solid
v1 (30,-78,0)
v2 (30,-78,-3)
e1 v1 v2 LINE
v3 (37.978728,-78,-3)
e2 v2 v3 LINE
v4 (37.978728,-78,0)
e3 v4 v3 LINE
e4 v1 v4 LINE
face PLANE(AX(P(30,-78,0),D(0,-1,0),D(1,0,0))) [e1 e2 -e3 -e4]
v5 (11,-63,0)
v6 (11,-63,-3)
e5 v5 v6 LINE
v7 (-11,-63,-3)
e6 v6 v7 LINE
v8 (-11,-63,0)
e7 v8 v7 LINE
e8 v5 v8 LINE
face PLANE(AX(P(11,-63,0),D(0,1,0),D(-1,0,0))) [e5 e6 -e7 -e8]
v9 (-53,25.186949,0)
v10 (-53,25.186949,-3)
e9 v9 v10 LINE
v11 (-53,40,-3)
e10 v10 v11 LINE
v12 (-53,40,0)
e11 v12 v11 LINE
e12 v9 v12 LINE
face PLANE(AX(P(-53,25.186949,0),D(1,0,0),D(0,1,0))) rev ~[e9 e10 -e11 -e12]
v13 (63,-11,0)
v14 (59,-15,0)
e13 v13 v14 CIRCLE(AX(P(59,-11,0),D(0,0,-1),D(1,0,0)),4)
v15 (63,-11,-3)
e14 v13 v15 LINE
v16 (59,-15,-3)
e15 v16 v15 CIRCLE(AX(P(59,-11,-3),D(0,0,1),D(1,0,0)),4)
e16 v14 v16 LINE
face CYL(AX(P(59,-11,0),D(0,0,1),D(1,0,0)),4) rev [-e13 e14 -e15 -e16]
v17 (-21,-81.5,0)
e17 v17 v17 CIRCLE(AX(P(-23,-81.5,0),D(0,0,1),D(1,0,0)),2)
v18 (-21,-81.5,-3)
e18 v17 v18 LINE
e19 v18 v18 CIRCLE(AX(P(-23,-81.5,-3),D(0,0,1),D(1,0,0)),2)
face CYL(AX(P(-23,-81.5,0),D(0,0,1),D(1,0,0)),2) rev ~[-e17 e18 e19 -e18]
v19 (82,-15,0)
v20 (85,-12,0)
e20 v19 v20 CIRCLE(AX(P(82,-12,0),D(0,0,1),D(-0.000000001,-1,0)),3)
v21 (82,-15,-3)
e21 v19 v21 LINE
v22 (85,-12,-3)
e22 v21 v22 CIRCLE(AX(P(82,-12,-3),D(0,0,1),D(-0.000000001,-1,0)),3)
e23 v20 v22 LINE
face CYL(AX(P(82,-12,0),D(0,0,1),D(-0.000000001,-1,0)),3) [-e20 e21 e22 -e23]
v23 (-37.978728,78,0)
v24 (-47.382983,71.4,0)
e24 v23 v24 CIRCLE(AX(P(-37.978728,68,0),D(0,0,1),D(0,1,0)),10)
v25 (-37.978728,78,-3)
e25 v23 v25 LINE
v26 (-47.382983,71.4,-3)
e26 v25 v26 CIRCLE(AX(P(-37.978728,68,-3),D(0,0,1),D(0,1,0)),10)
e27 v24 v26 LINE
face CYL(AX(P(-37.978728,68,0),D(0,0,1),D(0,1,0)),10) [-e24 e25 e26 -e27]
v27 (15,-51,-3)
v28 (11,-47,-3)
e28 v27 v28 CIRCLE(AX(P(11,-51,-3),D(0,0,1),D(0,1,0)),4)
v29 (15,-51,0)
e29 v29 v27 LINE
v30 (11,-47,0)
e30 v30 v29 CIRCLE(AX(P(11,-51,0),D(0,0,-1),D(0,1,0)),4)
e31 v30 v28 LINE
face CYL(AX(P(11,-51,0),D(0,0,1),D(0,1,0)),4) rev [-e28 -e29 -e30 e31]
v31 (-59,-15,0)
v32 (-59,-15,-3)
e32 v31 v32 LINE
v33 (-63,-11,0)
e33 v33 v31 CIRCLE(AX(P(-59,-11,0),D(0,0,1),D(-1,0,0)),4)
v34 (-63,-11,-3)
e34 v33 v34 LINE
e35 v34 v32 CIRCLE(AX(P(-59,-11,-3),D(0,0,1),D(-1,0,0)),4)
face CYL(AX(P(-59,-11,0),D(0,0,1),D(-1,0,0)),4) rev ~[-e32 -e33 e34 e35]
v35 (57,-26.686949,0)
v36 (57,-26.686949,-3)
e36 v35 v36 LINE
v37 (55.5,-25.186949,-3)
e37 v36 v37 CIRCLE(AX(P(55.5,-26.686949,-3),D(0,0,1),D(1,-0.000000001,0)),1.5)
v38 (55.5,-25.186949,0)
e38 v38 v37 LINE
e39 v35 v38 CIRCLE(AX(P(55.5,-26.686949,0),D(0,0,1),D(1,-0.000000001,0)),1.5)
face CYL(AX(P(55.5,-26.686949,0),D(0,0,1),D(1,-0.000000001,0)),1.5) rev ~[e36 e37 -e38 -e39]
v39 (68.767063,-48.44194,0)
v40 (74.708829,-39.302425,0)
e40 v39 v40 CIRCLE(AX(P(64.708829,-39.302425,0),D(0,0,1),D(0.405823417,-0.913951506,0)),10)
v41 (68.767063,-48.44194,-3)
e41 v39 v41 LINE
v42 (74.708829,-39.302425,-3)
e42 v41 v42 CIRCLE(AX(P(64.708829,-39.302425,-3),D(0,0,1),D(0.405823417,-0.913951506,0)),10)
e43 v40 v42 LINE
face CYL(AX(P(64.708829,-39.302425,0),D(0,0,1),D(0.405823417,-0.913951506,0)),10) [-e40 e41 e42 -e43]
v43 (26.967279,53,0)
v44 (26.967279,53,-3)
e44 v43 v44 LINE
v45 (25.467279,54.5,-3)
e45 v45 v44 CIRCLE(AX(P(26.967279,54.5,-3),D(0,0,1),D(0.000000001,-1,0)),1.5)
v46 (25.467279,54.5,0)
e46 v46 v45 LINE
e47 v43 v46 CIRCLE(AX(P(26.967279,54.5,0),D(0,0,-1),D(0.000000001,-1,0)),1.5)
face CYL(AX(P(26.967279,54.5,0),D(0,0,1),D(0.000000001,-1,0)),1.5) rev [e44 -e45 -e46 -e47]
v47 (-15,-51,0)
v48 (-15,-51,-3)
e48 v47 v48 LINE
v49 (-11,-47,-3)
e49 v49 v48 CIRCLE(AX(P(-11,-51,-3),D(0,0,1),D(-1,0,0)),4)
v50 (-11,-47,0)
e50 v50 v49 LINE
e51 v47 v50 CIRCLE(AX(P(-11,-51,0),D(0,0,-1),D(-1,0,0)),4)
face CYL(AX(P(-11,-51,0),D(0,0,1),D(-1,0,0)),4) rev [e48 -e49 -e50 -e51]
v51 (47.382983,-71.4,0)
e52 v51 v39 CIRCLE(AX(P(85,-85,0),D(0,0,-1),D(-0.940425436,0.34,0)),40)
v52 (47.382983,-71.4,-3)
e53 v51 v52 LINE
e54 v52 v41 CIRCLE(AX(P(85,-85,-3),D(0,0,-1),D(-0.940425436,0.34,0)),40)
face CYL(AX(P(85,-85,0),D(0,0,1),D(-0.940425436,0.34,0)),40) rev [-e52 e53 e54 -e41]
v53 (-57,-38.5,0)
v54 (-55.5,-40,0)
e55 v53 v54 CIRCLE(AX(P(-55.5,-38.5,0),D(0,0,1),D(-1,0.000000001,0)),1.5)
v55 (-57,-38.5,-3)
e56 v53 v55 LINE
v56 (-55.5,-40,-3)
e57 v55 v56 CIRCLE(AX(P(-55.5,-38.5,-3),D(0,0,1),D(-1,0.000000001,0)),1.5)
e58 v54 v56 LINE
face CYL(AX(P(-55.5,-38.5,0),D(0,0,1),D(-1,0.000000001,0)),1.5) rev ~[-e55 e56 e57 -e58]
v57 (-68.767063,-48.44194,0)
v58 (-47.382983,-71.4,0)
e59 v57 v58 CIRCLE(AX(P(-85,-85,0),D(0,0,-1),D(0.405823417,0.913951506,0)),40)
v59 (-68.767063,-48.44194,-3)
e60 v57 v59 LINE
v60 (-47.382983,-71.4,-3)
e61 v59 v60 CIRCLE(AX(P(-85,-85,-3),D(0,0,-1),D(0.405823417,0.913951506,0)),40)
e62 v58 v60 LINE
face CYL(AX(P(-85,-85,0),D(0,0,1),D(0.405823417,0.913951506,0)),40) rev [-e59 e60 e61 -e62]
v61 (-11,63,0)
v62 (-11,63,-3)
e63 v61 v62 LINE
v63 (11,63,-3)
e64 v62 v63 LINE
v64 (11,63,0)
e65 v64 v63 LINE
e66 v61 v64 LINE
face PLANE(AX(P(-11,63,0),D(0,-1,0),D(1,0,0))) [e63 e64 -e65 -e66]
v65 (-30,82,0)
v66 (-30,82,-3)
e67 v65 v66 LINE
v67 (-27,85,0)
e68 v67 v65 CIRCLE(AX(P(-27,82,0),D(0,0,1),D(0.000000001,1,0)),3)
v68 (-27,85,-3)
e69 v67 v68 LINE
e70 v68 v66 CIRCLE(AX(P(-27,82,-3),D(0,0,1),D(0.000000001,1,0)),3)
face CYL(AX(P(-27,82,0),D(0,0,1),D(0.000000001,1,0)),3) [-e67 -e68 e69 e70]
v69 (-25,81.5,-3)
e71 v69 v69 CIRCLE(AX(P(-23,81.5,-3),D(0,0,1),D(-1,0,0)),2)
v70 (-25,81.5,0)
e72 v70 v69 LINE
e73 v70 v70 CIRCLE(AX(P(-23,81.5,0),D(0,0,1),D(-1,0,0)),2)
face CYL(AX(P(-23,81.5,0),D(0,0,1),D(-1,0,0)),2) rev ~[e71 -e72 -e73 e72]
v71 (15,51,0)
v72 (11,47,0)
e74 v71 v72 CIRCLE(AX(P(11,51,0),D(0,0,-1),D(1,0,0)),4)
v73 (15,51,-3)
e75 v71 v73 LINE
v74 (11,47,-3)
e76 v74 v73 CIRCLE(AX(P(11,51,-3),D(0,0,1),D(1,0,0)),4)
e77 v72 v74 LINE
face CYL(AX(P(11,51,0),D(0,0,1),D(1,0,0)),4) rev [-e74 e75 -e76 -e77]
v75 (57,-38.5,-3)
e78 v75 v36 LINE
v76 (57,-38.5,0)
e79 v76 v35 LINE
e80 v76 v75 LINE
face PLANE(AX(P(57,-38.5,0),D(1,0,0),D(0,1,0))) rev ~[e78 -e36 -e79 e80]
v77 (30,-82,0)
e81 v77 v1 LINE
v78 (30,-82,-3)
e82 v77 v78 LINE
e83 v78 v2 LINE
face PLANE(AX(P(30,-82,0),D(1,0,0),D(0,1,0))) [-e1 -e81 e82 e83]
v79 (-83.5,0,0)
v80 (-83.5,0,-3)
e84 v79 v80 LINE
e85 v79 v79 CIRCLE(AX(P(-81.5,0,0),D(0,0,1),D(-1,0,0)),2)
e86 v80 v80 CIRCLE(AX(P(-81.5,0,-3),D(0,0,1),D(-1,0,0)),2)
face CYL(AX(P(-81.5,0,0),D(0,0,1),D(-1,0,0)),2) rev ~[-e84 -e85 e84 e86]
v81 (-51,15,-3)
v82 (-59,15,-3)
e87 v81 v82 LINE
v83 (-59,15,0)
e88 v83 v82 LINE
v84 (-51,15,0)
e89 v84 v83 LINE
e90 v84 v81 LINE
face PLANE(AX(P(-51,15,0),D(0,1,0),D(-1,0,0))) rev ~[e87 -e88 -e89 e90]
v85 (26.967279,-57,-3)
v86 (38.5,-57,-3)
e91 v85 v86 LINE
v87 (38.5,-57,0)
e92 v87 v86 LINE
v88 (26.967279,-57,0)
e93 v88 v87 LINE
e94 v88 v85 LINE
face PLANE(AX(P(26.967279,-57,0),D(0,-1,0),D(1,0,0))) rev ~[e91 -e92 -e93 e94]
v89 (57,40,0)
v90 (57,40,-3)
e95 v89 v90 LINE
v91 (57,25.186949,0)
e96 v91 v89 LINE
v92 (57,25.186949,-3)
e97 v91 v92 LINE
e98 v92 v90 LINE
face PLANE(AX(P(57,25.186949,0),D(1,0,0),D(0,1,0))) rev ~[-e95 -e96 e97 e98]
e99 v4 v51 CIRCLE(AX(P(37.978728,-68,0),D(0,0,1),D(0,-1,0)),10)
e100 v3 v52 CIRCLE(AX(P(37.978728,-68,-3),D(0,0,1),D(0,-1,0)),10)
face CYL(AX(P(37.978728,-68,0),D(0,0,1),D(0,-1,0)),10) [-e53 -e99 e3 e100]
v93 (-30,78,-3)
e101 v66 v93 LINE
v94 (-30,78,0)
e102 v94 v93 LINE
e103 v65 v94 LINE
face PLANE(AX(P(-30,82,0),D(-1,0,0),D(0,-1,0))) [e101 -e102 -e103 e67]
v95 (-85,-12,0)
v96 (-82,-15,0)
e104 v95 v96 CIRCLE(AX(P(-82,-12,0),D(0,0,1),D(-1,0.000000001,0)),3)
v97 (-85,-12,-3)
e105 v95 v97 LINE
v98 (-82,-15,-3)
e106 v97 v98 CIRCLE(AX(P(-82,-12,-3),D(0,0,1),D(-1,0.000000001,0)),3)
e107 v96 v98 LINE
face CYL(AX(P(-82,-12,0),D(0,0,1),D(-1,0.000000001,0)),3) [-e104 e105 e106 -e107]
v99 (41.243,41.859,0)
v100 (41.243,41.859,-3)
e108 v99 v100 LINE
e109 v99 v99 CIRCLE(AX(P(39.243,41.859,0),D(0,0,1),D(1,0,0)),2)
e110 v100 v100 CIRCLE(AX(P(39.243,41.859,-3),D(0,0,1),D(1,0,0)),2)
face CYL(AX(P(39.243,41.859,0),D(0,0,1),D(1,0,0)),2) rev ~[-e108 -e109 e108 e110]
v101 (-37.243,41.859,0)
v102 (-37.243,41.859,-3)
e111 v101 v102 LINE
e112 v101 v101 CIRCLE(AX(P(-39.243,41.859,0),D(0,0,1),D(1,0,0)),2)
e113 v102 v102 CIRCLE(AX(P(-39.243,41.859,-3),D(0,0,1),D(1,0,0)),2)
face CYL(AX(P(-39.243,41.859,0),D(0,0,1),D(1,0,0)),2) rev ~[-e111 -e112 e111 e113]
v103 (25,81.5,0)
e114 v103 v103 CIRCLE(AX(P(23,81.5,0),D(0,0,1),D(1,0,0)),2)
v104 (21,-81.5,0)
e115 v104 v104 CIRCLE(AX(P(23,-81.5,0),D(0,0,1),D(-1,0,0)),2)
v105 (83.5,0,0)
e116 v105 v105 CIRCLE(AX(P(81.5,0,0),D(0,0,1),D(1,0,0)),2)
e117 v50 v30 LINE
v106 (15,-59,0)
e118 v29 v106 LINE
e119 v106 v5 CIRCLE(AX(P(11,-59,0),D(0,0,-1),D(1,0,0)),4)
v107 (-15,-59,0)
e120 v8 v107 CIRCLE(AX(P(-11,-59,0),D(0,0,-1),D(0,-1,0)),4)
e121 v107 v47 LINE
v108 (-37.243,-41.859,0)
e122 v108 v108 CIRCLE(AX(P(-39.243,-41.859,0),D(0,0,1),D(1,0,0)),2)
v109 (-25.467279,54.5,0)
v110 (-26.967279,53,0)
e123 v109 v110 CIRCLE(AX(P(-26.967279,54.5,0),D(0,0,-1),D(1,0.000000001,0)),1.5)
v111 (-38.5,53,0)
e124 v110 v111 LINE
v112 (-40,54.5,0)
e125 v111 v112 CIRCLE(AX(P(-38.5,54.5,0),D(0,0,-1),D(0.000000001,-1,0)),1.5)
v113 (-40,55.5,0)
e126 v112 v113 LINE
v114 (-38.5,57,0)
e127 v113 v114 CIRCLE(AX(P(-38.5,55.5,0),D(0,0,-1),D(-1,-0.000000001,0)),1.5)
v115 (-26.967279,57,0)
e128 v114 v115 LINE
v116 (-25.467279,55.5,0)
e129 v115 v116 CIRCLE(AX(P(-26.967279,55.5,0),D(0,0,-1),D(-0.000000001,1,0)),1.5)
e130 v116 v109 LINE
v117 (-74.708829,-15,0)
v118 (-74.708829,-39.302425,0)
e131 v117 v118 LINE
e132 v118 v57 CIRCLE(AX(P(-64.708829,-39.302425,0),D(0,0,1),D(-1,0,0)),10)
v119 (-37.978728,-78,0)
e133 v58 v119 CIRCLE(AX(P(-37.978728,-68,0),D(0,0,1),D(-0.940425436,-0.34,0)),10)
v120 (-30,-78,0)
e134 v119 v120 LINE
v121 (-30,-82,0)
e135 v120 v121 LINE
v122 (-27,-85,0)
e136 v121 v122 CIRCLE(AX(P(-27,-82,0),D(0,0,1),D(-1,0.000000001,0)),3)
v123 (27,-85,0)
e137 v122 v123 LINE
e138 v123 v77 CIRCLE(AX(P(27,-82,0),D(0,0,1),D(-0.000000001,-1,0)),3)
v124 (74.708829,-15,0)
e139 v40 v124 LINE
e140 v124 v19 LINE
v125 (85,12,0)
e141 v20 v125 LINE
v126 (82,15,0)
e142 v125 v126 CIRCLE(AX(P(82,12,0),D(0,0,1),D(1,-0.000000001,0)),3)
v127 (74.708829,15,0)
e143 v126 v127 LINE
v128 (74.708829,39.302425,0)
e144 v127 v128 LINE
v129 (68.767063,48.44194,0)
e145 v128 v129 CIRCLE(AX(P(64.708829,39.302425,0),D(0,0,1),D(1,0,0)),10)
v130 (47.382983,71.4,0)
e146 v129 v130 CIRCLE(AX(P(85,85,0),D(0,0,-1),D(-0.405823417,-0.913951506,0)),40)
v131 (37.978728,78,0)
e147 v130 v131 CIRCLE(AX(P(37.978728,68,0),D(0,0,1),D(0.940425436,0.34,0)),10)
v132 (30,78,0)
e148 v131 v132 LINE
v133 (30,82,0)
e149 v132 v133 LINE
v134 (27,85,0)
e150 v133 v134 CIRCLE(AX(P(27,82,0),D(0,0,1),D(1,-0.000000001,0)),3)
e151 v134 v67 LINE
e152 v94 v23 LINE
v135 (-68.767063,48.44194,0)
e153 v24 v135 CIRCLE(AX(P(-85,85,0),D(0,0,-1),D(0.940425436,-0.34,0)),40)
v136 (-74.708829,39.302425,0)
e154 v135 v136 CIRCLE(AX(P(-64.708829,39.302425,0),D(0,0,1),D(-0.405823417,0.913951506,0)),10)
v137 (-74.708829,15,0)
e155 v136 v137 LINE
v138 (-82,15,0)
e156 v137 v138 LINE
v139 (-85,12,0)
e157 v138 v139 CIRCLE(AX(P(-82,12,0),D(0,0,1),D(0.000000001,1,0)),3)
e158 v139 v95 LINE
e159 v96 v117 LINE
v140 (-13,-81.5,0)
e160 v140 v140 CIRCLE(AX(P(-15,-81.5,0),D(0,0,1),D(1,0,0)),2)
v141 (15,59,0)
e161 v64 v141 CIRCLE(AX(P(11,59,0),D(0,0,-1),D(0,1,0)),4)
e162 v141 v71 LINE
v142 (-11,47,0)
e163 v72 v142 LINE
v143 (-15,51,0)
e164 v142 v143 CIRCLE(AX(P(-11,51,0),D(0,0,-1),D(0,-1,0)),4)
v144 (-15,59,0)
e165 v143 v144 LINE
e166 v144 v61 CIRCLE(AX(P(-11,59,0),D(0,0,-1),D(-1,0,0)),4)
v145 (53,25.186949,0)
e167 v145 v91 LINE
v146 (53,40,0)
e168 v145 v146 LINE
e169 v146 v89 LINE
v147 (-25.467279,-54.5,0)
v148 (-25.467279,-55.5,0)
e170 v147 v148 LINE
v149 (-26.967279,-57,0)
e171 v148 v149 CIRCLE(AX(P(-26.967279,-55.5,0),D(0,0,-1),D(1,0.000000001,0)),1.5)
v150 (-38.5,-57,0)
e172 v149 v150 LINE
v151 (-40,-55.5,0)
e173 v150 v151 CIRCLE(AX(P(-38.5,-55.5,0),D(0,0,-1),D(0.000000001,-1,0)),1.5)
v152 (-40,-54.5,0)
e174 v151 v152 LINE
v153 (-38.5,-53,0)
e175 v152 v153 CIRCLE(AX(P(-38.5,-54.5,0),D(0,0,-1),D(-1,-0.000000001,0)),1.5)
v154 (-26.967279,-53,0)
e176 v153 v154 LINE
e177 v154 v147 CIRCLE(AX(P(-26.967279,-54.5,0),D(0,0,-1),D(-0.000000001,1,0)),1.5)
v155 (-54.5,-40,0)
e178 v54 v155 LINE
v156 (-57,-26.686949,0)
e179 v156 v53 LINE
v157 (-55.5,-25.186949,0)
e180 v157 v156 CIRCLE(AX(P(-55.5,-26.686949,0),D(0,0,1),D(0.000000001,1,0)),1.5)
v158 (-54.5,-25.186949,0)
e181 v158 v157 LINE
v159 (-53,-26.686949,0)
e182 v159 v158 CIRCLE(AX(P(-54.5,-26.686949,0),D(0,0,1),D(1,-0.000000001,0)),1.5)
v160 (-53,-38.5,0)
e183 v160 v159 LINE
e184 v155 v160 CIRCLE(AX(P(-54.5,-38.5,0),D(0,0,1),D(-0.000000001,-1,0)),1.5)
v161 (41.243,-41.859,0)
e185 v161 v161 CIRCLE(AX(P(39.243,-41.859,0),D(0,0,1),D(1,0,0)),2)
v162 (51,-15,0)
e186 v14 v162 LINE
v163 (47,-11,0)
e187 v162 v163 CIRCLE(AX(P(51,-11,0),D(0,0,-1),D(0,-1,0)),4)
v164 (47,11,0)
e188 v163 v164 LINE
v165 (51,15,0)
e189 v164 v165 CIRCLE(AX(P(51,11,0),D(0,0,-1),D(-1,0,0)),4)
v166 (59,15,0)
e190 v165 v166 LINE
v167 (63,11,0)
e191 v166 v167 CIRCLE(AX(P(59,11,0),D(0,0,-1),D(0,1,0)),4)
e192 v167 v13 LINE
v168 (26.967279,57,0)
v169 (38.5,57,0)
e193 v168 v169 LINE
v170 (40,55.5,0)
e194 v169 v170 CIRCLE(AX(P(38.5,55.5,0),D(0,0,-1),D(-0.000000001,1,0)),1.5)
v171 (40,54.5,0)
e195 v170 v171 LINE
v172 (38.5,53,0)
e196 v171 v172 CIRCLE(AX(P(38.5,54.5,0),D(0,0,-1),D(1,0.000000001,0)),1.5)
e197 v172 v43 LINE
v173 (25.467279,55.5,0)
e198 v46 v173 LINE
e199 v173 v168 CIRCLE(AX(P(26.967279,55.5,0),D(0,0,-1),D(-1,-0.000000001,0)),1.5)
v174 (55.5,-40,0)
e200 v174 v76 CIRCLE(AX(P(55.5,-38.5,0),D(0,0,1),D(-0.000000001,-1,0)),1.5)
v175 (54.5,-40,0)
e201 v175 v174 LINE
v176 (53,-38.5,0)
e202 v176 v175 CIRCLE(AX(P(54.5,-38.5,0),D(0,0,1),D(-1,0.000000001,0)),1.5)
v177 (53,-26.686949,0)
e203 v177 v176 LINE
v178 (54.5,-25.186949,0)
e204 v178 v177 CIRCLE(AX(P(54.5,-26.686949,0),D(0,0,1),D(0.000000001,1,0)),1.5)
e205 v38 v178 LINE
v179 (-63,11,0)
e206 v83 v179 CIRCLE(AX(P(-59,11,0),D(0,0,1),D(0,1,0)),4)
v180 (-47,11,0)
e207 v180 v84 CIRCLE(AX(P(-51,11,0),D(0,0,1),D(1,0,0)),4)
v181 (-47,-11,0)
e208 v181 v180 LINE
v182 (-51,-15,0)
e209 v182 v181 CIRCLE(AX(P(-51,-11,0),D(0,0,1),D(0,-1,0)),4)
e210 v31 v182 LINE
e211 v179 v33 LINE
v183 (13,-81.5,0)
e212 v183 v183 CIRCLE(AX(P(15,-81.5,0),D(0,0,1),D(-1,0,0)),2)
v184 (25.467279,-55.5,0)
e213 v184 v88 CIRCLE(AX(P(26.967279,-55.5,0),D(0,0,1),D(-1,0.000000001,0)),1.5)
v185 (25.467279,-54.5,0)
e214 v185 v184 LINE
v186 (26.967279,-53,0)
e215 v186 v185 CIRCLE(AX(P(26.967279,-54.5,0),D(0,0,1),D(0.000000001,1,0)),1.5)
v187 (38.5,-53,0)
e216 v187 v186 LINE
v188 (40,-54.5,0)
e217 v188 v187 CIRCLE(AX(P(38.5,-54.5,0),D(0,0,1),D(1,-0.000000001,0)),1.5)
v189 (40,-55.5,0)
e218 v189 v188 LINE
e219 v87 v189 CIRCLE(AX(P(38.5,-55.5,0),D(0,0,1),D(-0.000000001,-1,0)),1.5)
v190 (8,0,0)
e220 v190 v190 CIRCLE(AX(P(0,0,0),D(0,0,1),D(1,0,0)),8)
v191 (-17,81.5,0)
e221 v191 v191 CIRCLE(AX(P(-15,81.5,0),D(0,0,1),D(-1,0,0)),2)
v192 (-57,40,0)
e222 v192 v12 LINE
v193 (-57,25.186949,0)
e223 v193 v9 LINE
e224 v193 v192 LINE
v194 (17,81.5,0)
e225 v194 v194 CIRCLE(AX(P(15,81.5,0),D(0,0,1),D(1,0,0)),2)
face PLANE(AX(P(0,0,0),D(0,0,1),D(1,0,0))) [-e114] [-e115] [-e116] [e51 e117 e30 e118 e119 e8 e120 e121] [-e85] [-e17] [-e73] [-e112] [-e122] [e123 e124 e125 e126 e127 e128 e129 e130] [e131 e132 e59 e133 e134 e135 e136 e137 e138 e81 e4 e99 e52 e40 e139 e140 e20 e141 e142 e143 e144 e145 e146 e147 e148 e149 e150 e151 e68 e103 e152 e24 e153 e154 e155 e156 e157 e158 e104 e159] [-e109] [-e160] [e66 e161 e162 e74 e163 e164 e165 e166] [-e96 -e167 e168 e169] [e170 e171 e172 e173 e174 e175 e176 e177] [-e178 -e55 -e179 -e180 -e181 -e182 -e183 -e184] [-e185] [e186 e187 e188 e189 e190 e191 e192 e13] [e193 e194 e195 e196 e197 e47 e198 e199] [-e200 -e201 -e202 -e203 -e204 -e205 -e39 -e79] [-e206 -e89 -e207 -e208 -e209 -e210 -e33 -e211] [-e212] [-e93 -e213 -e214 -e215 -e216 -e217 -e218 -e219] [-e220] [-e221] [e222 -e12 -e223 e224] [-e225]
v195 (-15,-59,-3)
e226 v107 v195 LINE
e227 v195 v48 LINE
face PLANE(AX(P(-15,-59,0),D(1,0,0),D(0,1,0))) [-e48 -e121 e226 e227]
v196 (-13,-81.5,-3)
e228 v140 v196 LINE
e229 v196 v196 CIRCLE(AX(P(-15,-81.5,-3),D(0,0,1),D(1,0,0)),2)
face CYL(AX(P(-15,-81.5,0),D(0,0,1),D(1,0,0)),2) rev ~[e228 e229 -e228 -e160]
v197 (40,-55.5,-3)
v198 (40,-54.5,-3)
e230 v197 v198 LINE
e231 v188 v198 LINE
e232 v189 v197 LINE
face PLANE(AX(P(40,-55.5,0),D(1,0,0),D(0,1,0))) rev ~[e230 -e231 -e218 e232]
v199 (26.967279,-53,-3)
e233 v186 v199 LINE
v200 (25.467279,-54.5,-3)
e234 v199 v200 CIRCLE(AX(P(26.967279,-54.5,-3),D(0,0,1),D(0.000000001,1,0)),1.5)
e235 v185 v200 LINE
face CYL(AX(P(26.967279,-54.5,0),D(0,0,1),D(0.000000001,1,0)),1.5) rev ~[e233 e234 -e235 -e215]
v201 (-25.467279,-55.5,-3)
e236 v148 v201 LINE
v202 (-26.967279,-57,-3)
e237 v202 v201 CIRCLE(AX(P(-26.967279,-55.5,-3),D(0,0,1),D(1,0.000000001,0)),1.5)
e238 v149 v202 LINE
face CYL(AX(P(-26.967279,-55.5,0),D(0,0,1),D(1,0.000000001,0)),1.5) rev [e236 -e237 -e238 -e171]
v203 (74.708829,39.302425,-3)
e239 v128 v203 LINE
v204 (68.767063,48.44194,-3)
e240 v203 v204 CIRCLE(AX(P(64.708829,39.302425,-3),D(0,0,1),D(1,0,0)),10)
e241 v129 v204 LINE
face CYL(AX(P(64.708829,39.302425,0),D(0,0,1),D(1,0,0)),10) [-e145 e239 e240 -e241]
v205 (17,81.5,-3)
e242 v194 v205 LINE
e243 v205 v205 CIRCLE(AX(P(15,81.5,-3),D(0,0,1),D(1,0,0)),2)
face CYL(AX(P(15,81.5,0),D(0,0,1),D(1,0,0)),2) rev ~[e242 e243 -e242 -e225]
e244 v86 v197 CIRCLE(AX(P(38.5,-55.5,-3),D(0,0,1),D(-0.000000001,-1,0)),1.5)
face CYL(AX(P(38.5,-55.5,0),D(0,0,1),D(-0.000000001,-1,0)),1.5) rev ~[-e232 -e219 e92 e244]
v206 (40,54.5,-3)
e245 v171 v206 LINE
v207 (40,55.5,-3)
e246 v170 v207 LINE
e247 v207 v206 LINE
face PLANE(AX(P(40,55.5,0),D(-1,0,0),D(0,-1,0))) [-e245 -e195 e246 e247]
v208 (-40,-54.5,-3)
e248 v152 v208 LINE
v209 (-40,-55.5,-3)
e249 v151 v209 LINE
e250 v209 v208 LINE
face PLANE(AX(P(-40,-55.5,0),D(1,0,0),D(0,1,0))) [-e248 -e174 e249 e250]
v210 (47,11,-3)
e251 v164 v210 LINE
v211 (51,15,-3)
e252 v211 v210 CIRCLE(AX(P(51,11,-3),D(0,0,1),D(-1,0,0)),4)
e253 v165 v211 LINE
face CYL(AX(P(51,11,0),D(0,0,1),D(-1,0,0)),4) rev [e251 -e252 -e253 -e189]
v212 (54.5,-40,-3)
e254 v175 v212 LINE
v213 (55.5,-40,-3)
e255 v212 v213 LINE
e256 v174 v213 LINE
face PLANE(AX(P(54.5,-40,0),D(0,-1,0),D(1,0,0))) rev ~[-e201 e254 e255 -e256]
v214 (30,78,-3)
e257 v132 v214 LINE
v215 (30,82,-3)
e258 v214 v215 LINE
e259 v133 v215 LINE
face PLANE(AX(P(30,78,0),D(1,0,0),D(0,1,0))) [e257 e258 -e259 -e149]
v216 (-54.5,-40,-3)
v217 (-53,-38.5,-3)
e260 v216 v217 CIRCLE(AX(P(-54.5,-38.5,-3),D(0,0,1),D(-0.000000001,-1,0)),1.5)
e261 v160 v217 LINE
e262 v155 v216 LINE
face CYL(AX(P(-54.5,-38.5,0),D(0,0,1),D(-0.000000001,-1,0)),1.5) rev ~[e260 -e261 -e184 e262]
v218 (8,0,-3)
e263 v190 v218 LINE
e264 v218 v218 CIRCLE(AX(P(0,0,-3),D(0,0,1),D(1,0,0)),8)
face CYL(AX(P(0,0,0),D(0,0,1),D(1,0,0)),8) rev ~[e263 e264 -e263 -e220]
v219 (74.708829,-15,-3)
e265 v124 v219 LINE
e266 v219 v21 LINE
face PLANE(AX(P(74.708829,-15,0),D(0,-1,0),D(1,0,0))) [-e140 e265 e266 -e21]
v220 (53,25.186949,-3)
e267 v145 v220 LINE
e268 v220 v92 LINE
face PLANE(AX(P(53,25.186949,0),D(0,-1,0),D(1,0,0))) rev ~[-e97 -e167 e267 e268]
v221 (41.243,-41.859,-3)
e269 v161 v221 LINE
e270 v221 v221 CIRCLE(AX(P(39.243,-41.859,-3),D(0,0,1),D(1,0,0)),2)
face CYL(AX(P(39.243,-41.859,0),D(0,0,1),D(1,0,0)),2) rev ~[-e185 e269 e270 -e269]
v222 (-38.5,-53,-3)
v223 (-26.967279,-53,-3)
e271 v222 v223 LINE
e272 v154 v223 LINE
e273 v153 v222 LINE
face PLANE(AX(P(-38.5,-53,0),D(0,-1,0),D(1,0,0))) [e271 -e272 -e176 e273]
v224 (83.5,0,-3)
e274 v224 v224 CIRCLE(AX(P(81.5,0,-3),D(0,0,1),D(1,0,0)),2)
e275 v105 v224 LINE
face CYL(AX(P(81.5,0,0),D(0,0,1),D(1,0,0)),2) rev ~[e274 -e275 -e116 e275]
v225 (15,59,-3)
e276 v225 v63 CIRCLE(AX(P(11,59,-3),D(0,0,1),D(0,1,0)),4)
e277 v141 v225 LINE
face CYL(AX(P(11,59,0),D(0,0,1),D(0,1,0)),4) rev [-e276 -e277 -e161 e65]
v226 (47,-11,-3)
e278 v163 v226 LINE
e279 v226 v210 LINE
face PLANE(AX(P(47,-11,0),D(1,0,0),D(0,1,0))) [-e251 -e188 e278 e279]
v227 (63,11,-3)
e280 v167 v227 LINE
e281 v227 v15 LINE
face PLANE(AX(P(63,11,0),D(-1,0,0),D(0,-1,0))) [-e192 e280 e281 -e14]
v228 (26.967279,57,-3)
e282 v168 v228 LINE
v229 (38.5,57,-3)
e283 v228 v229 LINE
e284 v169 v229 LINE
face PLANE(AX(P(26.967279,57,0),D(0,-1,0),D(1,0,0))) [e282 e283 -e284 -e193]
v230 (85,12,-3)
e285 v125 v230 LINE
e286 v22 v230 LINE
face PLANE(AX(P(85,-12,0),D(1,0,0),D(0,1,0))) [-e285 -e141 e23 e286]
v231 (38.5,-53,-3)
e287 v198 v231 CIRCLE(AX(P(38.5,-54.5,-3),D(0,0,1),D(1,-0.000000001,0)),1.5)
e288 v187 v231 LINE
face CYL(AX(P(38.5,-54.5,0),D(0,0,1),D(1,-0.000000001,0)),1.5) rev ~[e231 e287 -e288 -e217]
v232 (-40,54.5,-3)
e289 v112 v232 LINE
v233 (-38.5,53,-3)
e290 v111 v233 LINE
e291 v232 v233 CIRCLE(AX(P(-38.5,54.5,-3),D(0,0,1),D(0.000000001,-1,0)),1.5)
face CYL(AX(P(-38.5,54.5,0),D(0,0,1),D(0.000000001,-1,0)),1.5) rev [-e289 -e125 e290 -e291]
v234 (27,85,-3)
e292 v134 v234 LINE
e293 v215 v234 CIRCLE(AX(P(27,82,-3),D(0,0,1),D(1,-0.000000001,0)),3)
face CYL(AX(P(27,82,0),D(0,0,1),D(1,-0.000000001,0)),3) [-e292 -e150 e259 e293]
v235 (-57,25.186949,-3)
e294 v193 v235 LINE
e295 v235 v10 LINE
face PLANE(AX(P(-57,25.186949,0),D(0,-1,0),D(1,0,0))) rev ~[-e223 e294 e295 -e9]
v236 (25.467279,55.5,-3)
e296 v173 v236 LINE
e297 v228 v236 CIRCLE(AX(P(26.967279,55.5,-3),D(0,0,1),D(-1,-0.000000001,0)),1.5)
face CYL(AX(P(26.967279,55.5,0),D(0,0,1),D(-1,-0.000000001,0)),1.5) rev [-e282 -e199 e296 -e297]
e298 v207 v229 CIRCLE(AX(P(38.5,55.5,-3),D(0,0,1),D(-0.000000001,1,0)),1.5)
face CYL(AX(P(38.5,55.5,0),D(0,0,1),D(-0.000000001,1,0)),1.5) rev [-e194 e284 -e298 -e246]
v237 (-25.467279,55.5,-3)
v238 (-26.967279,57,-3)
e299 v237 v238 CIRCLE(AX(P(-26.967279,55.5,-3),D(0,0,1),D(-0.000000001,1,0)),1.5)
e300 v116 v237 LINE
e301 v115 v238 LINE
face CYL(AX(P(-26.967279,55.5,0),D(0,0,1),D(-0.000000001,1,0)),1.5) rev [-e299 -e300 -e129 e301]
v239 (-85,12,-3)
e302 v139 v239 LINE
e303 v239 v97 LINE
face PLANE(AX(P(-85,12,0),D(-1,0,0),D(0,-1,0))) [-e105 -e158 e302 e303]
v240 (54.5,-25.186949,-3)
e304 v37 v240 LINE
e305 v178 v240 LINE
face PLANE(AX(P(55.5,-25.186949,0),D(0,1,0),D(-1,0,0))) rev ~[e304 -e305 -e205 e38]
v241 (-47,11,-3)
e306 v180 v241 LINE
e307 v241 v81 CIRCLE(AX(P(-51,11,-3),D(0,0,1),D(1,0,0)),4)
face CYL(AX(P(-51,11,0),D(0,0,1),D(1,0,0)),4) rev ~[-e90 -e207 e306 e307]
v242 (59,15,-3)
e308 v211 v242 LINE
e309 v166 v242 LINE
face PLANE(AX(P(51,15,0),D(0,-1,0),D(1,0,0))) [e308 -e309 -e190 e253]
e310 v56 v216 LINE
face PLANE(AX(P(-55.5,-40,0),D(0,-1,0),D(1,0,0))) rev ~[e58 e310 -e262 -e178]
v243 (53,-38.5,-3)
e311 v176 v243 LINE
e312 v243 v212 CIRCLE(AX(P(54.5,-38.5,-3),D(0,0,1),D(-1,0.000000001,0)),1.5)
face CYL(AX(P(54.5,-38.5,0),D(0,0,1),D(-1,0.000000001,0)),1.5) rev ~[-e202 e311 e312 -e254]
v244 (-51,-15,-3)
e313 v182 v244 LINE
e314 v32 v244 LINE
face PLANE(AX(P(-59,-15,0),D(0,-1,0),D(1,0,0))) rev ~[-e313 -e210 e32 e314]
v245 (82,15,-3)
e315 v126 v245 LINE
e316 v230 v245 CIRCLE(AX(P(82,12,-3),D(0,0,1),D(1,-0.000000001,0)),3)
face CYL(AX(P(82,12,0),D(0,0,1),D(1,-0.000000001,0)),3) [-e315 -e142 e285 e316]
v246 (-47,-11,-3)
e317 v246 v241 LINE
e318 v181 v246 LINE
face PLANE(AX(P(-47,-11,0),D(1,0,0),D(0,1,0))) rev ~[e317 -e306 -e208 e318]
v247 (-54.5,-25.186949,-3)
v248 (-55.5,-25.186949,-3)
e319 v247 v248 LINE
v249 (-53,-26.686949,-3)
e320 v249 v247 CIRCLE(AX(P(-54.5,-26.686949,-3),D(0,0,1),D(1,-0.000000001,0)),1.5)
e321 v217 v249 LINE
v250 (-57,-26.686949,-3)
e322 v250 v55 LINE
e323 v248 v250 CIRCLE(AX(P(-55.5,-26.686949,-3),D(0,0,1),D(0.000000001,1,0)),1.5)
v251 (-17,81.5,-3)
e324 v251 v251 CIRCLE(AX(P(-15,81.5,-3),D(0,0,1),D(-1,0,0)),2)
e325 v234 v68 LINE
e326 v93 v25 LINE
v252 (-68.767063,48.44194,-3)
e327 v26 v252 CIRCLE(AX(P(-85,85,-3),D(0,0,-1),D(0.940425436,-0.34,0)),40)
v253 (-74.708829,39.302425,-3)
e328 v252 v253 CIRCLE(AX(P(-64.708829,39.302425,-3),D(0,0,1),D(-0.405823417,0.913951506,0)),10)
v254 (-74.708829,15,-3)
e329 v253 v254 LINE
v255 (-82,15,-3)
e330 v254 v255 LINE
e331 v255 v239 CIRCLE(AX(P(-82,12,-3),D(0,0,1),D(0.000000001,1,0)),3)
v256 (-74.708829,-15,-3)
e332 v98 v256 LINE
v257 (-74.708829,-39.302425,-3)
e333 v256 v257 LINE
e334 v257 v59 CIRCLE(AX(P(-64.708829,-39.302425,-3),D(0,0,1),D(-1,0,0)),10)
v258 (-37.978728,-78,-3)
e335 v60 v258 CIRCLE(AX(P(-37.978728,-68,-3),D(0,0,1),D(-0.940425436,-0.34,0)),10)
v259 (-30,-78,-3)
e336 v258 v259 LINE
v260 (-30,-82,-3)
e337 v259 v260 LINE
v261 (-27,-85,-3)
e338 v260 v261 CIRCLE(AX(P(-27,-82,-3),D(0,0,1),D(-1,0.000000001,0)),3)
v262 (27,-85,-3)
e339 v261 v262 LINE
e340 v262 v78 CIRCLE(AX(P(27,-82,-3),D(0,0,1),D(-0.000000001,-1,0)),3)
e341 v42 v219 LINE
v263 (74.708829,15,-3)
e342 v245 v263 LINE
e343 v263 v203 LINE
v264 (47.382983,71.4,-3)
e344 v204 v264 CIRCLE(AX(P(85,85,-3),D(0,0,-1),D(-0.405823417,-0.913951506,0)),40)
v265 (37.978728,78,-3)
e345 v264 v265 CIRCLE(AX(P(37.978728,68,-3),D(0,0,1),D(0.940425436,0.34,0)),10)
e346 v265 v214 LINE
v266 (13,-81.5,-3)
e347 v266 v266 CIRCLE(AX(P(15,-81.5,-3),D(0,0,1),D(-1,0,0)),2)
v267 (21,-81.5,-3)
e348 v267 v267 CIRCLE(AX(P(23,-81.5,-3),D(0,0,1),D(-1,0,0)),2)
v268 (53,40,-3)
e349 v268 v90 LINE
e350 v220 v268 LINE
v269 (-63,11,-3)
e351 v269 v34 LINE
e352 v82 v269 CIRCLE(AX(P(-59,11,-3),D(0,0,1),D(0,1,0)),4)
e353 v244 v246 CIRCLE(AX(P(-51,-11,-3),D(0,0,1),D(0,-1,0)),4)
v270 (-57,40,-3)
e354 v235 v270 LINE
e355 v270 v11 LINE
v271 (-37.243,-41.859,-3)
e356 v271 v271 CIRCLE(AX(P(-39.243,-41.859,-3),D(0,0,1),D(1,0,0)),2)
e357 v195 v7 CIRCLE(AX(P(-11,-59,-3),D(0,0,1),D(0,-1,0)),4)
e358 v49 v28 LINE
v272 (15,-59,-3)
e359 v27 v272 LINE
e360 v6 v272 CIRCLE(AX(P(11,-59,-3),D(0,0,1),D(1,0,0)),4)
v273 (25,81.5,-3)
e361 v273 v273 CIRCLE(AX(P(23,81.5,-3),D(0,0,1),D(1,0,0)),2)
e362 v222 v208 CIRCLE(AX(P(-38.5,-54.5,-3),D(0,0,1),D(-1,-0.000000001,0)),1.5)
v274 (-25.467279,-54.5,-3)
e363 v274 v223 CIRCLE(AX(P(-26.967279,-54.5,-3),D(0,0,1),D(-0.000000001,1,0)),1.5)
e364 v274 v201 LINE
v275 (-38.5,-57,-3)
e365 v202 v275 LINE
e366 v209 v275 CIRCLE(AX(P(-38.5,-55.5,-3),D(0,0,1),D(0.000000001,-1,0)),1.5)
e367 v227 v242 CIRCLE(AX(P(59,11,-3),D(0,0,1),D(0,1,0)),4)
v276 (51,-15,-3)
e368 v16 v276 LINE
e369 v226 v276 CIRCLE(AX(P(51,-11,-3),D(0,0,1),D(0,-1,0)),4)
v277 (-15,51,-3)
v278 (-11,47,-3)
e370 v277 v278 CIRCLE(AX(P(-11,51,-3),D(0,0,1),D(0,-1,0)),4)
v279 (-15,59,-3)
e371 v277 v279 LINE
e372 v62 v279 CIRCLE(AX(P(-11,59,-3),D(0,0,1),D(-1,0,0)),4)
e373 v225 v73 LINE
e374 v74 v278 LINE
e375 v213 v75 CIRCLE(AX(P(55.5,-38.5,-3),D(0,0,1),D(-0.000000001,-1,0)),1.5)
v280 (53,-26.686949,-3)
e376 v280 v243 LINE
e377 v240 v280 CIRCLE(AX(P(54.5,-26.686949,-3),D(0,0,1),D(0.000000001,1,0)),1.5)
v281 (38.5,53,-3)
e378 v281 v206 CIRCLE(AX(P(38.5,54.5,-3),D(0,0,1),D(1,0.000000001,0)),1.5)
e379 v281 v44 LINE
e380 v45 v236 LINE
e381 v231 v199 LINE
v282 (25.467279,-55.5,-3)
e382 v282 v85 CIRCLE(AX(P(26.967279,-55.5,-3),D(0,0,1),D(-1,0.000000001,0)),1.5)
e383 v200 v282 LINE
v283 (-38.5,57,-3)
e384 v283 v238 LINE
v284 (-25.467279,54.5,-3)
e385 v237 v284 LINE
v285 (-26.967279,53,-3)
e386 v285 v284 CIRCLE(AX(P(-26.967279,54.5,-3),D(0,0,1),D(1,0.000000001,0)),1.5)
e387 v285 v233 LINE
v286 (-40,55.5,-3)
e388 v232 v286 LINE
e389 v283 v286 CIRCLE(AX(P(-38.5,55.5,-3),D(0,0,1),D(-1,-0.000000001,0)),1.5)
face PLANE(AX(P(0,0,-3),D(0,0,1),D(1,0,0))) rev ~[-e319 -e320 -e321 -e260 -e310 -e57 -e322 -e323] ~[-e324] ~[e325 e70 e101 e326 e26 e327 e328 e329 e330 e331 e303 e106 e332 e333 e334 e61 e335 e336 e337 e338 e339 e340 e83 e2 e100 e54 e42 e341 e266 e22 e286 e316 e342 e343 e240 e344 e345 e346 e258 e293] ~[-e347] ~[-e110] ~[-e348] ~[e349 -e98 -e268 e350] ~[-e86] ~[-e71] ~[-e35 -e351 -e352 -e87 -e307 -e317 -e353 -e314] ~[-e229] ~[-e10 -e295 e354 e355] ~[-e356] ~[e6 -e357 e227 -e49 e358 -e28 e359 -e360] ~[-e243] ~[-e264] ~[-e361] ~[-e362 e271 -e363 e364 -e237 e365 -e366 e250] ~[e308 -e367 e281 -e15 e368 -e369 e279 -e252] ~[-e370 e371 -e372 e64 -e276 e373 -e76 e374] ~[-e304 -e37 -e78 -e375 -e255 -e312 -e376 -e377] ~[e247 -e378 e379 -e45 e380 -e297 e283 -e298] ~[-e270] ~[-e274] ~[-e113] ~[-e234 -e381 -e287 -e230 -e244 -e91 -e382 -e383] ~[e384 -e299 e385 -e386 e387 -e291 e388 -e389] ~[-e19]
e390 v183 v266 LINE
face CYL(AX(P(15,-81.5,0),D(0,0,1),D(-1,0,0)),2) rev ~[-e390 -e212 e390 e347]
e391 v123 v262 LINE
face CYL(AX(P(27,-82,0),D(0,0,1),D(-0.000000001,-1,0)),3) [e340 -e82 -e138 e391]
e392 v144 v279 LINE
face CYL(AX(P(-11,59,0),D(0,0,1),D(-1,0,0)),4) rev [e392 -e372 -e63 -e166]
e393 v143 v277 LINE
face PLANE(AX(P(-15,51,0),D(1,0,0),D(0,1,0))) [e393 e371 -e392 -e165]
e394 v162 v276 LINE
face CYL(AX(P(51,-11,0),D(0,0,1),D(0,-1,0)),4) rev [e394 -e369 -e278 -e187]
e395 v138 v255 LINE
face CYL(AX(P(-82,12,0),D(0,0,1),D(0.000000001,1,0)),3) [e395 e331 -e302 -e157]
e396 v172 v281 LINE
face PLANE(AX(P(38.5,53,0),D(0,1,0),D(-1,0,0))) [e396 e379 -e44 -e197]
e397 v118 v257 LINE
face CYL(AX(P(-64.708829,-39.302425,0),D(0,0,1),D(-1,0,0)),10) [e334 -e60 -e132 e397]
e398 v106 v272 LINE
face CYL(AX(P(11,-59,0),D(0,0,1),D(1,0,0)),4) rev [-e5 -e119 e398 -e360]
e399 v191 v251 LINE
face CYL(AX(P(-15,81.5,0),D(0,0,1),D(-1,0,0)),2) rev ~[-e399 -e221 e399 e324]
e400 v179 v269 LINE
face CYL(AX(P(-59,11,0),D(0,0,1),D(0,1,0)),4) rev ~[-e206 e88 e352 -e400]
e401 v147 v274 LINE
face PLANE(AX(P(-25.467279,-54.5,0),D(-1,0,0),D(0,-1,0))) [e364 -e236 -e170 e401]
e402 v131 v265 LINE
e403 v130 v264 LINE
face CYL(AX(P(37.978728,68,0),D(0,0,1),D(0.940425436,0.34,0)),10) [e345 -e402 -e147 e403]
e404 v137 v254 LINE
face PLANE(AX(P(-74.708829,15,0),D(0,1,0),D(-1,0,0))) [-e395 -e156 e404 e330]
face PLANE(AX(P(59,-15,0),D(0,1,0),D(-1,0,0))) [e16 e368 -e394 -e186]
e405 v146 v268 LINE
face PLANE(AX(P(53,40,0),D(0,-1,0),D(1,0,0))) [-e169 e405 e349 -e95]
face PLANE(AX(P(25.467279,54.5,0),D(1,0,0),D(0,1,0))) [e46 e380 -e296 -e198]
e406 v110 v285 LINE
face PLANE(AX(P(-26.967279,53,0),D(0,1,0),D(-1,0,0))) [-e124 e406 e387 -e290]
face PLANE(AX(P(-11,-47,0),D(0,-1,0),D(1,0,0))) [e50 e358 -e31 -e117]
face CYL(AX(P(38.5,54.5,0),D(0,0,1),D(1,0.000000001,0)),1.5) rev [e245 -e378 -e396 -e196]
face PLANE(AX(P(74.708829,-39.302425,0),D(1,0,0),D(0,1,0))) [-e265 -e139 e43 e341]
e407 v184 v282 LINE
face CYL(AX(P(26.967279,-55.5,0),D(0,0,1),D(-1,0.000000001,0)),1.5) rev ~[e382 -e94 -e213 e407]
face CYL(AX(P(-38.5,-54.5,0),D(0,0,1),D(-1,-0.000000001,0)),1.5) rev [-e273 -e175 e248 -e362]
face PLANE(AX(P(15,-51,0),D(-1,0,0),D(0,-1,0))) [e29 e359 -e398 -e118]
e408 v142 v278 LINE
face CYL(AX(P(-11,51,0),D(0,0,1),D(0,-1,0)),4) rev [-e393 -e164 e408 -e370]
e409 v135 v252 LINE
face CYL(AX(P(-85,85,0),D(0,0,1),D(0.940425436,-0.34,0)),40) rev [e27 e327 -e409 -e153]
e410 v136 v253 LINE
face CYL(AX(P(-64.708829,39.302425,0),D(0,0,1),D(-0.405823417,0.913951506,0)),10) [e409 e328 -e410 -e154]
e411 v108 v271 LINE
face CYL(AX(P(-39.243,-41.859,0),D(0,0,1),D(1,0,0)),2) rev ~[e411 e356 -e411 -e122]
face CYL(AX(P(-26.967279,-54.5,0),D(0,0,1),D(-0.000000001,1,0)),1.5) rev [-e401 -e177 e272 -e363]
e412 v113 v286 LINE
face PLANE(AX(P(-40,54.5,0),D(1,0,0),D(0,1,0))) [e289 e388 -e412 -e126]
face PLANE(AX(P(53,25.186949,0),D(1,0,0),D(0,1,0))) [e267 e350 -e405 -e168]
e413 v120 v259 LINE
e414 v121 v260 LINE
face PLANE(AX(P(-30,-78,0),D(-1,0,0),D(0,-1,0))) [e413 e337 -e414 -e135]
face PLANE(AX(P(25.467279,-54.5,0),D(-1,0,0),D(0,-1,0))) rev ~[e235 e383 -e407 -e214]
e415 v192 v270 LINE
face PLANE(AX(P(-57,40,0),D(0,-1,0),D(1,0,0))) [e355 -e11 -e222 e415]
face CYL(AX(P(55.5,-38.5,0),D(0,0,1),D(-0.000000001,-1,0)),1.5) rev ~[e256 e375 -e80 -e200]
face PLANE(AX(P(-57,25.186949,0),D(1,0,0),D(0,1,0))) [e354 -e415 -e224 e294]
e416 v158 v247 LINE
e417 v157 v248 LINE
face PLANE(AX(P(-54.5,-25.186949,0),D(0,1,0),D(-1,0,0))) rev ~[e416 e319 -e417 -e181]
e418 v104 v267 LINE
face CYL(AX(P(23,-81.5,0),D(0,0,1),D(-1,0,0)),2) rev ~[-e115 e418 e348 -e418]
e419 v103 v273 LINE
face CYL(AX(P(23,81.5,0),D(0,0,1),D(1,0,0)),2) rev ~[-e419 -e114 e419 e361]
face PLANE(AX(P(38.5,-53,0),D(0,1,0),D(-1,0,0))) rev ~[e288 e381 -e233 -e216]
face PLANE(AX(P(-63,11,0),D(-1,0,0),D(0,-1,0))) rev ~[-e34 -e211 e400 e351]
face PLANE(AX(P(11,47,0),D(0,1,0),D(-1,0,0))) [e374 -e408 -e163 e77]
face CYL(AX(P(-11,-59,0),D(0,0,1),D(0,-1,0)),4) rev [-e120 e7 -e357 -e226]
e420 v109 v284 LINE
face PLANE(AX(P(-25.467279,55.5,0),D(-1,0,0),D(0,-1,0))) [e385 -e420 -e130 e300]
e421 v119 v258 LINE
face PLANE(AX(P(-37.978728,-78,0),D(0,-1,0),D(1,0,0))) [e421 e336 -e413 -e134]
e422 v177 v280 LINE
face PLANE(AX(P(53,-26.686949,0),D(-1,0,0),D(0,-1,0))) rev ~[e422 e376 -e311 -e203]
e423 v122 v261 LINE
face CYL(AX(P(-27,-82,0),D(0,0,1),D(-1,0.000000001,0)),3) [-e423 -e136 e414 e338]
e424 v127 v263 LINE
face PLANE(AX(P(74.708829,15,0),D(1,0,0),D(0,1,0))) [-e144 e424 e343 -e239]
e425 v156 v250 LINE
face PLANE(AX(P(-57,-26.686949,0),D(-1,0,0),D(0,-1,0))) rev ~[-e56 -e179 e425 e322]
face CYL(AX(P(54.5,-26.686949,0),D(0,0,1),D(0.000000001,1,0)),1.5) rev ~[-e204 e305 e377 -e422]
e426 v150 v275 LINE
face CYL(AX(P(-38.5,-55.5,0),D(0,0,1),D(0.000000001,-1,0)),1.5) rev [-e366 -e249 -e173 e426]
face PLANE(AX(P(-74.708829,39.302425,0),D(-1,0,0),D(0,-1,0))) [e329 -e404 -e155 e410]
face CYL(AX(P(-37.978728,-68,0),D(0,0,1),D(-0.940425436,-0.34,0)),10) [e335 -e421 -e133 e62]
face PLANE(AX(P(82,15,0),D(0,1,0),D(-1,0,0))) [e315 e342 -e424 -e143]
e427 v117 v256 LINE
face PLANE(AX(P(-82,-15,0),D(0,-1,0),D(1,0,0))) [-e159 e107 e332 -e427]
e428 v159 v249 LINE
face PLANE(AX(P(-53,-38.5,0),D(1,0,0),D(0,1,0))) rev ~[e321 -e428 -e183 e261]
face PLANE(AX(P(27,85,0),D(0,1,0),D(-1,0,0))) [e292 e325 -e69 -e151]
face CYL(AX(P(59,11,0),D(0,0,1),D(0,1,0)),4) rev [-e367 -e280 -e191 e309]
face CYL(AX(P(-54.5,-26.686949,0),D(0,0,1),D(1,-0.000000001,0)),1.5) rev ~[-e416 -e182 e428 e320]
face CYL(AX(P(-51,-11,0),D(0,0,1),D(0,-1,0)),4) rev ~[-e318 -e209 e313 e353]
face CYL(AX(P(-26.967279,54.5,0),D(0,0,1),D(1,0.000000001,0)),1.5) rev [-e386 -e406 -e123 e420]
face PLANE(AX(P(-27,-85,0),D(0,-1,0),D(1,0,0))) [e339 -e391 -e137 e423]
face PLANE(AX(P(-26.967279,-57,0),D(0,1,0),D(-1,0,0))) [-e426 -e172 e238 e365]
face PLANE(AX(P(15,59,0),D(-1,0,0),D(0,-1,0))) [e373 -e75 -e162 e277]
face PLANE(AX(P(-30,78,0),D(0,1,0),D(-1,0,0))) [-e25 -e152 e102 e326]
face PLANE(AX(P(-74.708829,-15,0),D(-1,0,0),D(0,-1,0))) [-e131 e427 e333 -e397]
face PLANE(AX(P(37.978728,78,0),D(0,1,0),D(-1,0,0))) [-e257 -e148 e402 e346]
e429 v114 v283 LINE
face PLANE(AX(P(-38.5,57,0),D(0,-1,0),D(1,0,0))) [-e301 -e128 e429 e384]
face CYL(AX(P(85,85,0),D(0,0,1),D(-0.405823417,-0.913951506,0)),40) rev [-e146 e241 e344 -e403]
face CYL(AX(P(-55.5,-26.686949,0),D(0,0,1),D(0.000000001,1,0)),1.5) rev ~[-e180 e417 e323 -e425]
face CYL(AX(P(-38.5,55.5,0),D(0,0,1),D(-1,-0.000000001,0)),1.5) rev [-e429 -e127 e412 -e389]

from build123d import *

# Parameters (mm, degrees)
BOSS_EXTRUDE1_DEPTH = 3
SKETCH2_R           = 8
CUT_EXTRUDE2_DEPTH  = 5
SKETCH3_R           = 2
CUT_EXTRUDE3_DEPTH  = 5
SKETCH4_R           = 2
CUT_EXTRUDE4_DEPTH  = 5
SKETCH5_R           = 2
SKETCH5_W           = 4
SKETCH5_H           = 14.81305052
CUT_EXTRUDE5_DEPTH  = 5


with BuildPart() as part:
    # Sketch1 → Boss-Extrude1 (new body)
    with BuildSketch(Plane.XY):
        with BuildLine():
            Line((82, 15), (74.70882917, 15))
            Line((74.70882917, 15), (74.70882917, 39.302424721))
            ThreePointArc((74.70882917, 39.302424721), (73.092812163, 44.753005348), (68.767063336, 48.441939777))
            ThreePointArc((68.767063336, 48.441939777), (55.730177295, 57.736884279), (47.382982574, 71.4))
            ThreePointArc((47.382982574, 71.4), (43.723290865, 76.185352772), (37.978728218, 78))
            Line((37.978728218, 78), (30, 78))
            Line((30, 78), (30, 82))
            ThreePointArc((30, 82), (29.121320344, 84.121320344), (27, 85))
            Line((27, 85), (-27, 85))
            ThreePointArc((-27, 85), (-29.121320344, 84.121320344), (-30, 82))
            Line((-30, 82), (-30, 78))
            Line((-30, 78), (-37.978728218, 78))
            ThreePointArc((-37.978728218, 78), (-43.723290865, 76.185352772), (-47.382982574, 71.4))
            ThreePointArc((-47.382982574, 71.4), (-55.730177295, 57.736884279), (-68.767063336, 48.441939777))
            ThreePointArc((-68.767063336, 48.441939777), (-73.092812163, 44.753005348), (-74.70882917, 39.302424721))
            Line((-74.70882917, 39.302424721), (-74.70882917, 15))
            Line((-74.70882917, 15), (-82, 15))
            ThreePointArc((-82, 15), (-84.121320344, 14.121320344), (-85, 12))
            Line((-85, 12), (-85, -12))
            ThreePointArc((-85, -12), (-84.121320344, -14.121320344), (-82, -15))
            Line((-82, -15), (-74.70882917, -15))
            Line((-74.70882917, -15), (-74.70882917, -39.302424721))
            ThreePointArc((-74.70882917, -39.302424721), (-73.092812163, -44.753005348), (-68.767063336, -48.441939777))
            ThreePointArc((-68.767063336, -48.441939777), (-55.730177295, -57.736884279), (-47.382982574, -71.4))
            ThreePointArc((-47.382982574, -71.4), (-43.723290865, -76.185352772), (-37.978728218, -78))
            Line((-37.978728218, -78), (-30, -78))
            Line((-30, -78), (-30, -82))
            ThreePointArc((-30, -82), (-29.121320344, -84.121320344), (-27, -85))
            Line((-27, -85), (27, -85))
            ThreePointArc((27, -85), (29.121320344, -84.121320344), (30, -82))
            Line((30, -82), (30, -78))
            Line((30, -78), (37.978728218, -78))
            ThreePointArc((37.978728218, -78), (43.723290865, -76.185352772), (47.382982574, -71.4))
            ThreePointArc((47.382982574, -71.4), (55.730177295, -57.736884279), (68.767063336, -48.441939777))
            ThreePointArc((68.767063336, -48.441939777), (73.092812163, -44.753005348), (74.70882917, -39.302424721))
            Line((74.70882917, -39.302424721), (74.70882917, -15))
            Line((74.70882917, -15), (82, -15))
            ThreePointArc((82, -15), (84.121320344, -14.121320344), (85, -12))
            Line((85, -12), (85, 12))
            ThreePointArc((85, 12), (84.121320344, 14.121320344), (82, 15))
        make_face()
    extrude(amount=-BOSS_EXTRUDE1_DEPTH)

    # Sketch2 → Cut-Extrude2 (cut)
    with BuildSketch(Plane.XY):
        Circle(SKETCH2_R)
    extrude(amount=-CUT_EXTRUDE2_DEPTH, mode=Mode.SUBTRACT)

    # Sketch3 → Cut-Extrude3 (cut)
    with BuildSketch(Plane.XY):
        with Locations((81.5, 0)):
            Circle(SKETCH3_R)
        with Locations((-81.5, 0)):
            Circle(SKETCH3_R)
    extrude(amount=-CUT_EXTRUDE3_DEPTH, mode=Mode.SUBTRACT)

    # Sketch4 → Cut-Extrude4 (cut)
    with BuildSketch(Plane.XY):
        with Locations((23, 81.5)):
            Circle(SKETCH4_R)
        with Locations((15, 81.5)):
            Circle(SKETCH4_R)
        with Locations((-15, 81.5)):
            Circle(SKETCH4_R)
        with Locations((-23, 81.5)):
            Circle(SKETCH4_R)
        with Locations((-23, -81.5)):
            Circle(SKETCH4_R)
        with Locations((-15, -81.5)):
            Circle(SKETCH4_R)
        with Locations((15, -81.5)):
            Circle(SKETCH4_R)
        with Locations((23, -81.5)):
            Circle(SKETCH4_R)
    extrude(amount=-CUT_EXTRUDE4_DEPTH, mode=Mode.SUBTRACT)

    # Sketch5 → Cut-Extrude5 (cut)
    with BuildSketch(Plane.XY):
        with Locations((39.243, 41.859)):
            Circle(SKETCH5_R)
        with Locations((39.243, -41.859)):
            Circle(SKETCH5_R)
        with Locations((-39.243, -41.859)):
            Circle(SKETCH5_R)
        with Locations((-39.243, 41.859)):
            Circle(SKETCH5_R)
        with BuildLine():
            Line((-15, -59), (-15, -51))
            ThreePointArc((-15, -51), (-13.828427125, -48.171572875), (-11, -47))
            Line((-11, -47), (11, -47))
            ThreePointArc((11, -47), (13.828427125, -48.171572875), (15, -51))
            Line((15, -51), (15, -59))
            ThreePointArc((15, -59), (13.828427125, -61.828427125), (11, -63))
            Line((11, -63), (-11, -63))
            ThreePointArc((-11, -63), (-13.828427125, -61.828427125), (-15, -59))
        make_face()
        with BuildLine():
            Line((51, 15), (59, 15))
            ThreePointArc((59, 15), (61.828427125, 13.828427125), (63, 11))
            Line((63, 11), (63, -11))
            ThreePointArc((63, -11), (61.828427125, -13.828427125), (59, -15))
            Line((59, -15), (51, -15))
            ThreePointArc((51, -15), (48.171572875, -13.828427125), (47, -11))
            Line((47, -11), (47, 11))
            ThreePointArc((47, 11), (48.171572875, 13.828427125), (51, 15))
        make_face()
        with BuildLine():
            Line((-63, 11), (-63, -11))
            ThreePointArc((-63, -11), (-61.828427125, -13.828427125), (-59, -15))
            Line((-59, -15), (-51, -15))
            ThreePointArc((-51, -15), (-48.171572875, -13.828427125), (-47, -11))
            Line((-47, -11), (-47, 11))
            ThreePointArc((-47, 11), (-48.171572875, 13.828427125), (-51, 15))
            Line((-51, 15), (-59, 15))
            ThreePointArc((-59, 15), (-61.828427125, 13.828427125), (-63, 11))
        make_face()
        with BuildLine():
            Line((-11, 63), (11, 63))
            ThreePointArc((11, 63), (13.828427125, 61.828427125), (15, 59))
            Line((15, 59), (15, 51))
            ThreePointArc((15, 51), (13.828427125, 48.171572875), (11, 47))
            Line((11, 47), (-11, 47))
            ThreePointArc((-11, 47), (-13.828427125, 48.171572875), (-15, 51))
            Line((-15, 51), (-15, 59))
            ThreePointArc((-15, 59), (-13.828427125, 61.828427125), (-11, 63))
        make_face()
        with BuildLine():
            Line((-26.967278586, -57), (-38.5, -57))
            ThreePointArc((-38.5, -57), (-39.560660172, -56.560660172), (-40, -55.5))
            Line((-40, -55.5), (-40, -54.5))
            ThreePointArc((-40, -54.5), (-39.560660172, -53.439339828), (-38.5, -53))
            Line((-38.5, -53), (-26.967278586, -53))
            ThreePointArc((-26.967278586, -53), (-25.906618414, -53.439339828), (-25.467278586, -54.5))
            Line((-25.467278586, -54.5), (-25.467278586, -55.5))
            ThreePointArc((-25.467278586, -55.5), (-25.906618414, -56.560660172), (-26.967278586, -57))
        make_face()
        with Locations((55, 32.59347474)):
            Rectangle(SKETCH5_W, SKETCH5_H)
        with Locations((-55, 32.59347474)):
            Rectangle(SKETCH5_W, SKETCH5_H)
        with BuildLine():
            Line((55.5, -25.18694948), (54.5, -25.18694948))
            ThreePointArc((54.5, -25.18694948), (53.439339828, -25.626289308), (53, -26.68694948))
            Line((53, -26.68694948), (53, -38.5))
            ThreePointArc((53, -38.5), (53.439339828, -39.560660172), (54.5, -40))
            Line((54.5, -40), (55.5, -40))
            ThreePointArc((55.5, -40), (56.560660172, -39.560660172), (57, -38.5))
            Line((57, -38.5), (57, -26.68694948))
            ThreePointArc((57, -26.68694948), (56.560660172, -25.626289308), (55.5, -25.18694948))
        make_face()
        with BuildLine():
            Line((-55.5, -40), (-54.5, -40))
            ThreePointArc((-54.5, -40), (-53.439339828, -39.560660172), (-53, -38.5))
            Line((-53, -38.5), (-53, -26.68694948))
            ThreePointArc((-53, -26.68694948), (-53.439339828, -25.626289308), (-54.5, -25.18694948))
            Line((-54.5, -25.18694948), (-55.5, -25.18694948))
            ThreePointArc((-55.5, -25.18694948), (-56.560660172, -25.626289308), (-57, -26.68694948))
            Line((-57, -26.68694948), (-57, -38.5))
            ThreePointArc((-57, -38.5), (-56.560660172, -39.560660172), (-55.5, -40))
        make_face()
        with BuildLine():
            Line((-25.467278586, 55.5), (-25.467278586, 54.5))
            ThreePointArc((-25.467278586, 54.5), (-25.906618414, 53.439339828), (-26.967278586, 53))
            Line((-26.967278586, 53), (-38.5, 53))
            ThreePointArc((-38.5, 53), (-39.560660172, 53.439339828), (-40, 54.5))
            Line((-40, 54.5), (-40, 55.5))
            ThreePointArc((-40, 55.5), (-39.560660172, 56.560660172), (-38.5, 57))
            Line((-38.5, 57), (-26.967278586, 57))
            ThreePointArc((-26.967278586, 57), (-25.906618414, 56.560660172), (-25.467278586, 55.5))
        make_face()
        with BuildLine():
            Line((26.967278586, 57), (38.5, 57))
            ThreePointArc((38.5, 57), (39.560660172, 56.560660172), (40, 55.5))
            Line((40, 55.5), (40, 54.5))
            ThreePointArc((40, 54.5), (39.560660172, 53.439339828), (38.5, 53))
            Line((38.5, 53), (26.967278586, 53))
            ThreePointArc((26.967278586, 53), (25.906618414, 53.439339828), (25.467278586, 54.5))
            Line((25.467278586, 54.5), (25.467278586, 55.5))
            ThreePointArc((25.467278586, 55.5), (25.906618414, 56.560660172), (26.967278586, 57))
        make_face()
        with BuildLine():
            Line((40, -55.5), (40, -54.5))
            ThreePointArc((40, -54.5), (39.560660172, -53.439339828), (38.5, -53))
            Line((38.5, -53), (26.967278586, -53))
            ThreePointArc((26.967278586, -53), (25.906618414, -53.439339828), (25.467278586, -54.5))
            Line((25.467278586, -54.5), (25.467278586, -55.5))
            ThreePointArc((25.467278586, -55.5), (25.906618414, -56.560660172), (26.967278586, -57))
            Line((26.967278586, -57), (38.5, -57))
            ThreePointArc((38.5, -57), (39.560660172, -56.560660172), (40, -55.5))
        make_face()
    extrude(amount=-CUT_EXTRUDE5_DEPTH, mode=Mode.SUBTRACT)


solid = part.part
